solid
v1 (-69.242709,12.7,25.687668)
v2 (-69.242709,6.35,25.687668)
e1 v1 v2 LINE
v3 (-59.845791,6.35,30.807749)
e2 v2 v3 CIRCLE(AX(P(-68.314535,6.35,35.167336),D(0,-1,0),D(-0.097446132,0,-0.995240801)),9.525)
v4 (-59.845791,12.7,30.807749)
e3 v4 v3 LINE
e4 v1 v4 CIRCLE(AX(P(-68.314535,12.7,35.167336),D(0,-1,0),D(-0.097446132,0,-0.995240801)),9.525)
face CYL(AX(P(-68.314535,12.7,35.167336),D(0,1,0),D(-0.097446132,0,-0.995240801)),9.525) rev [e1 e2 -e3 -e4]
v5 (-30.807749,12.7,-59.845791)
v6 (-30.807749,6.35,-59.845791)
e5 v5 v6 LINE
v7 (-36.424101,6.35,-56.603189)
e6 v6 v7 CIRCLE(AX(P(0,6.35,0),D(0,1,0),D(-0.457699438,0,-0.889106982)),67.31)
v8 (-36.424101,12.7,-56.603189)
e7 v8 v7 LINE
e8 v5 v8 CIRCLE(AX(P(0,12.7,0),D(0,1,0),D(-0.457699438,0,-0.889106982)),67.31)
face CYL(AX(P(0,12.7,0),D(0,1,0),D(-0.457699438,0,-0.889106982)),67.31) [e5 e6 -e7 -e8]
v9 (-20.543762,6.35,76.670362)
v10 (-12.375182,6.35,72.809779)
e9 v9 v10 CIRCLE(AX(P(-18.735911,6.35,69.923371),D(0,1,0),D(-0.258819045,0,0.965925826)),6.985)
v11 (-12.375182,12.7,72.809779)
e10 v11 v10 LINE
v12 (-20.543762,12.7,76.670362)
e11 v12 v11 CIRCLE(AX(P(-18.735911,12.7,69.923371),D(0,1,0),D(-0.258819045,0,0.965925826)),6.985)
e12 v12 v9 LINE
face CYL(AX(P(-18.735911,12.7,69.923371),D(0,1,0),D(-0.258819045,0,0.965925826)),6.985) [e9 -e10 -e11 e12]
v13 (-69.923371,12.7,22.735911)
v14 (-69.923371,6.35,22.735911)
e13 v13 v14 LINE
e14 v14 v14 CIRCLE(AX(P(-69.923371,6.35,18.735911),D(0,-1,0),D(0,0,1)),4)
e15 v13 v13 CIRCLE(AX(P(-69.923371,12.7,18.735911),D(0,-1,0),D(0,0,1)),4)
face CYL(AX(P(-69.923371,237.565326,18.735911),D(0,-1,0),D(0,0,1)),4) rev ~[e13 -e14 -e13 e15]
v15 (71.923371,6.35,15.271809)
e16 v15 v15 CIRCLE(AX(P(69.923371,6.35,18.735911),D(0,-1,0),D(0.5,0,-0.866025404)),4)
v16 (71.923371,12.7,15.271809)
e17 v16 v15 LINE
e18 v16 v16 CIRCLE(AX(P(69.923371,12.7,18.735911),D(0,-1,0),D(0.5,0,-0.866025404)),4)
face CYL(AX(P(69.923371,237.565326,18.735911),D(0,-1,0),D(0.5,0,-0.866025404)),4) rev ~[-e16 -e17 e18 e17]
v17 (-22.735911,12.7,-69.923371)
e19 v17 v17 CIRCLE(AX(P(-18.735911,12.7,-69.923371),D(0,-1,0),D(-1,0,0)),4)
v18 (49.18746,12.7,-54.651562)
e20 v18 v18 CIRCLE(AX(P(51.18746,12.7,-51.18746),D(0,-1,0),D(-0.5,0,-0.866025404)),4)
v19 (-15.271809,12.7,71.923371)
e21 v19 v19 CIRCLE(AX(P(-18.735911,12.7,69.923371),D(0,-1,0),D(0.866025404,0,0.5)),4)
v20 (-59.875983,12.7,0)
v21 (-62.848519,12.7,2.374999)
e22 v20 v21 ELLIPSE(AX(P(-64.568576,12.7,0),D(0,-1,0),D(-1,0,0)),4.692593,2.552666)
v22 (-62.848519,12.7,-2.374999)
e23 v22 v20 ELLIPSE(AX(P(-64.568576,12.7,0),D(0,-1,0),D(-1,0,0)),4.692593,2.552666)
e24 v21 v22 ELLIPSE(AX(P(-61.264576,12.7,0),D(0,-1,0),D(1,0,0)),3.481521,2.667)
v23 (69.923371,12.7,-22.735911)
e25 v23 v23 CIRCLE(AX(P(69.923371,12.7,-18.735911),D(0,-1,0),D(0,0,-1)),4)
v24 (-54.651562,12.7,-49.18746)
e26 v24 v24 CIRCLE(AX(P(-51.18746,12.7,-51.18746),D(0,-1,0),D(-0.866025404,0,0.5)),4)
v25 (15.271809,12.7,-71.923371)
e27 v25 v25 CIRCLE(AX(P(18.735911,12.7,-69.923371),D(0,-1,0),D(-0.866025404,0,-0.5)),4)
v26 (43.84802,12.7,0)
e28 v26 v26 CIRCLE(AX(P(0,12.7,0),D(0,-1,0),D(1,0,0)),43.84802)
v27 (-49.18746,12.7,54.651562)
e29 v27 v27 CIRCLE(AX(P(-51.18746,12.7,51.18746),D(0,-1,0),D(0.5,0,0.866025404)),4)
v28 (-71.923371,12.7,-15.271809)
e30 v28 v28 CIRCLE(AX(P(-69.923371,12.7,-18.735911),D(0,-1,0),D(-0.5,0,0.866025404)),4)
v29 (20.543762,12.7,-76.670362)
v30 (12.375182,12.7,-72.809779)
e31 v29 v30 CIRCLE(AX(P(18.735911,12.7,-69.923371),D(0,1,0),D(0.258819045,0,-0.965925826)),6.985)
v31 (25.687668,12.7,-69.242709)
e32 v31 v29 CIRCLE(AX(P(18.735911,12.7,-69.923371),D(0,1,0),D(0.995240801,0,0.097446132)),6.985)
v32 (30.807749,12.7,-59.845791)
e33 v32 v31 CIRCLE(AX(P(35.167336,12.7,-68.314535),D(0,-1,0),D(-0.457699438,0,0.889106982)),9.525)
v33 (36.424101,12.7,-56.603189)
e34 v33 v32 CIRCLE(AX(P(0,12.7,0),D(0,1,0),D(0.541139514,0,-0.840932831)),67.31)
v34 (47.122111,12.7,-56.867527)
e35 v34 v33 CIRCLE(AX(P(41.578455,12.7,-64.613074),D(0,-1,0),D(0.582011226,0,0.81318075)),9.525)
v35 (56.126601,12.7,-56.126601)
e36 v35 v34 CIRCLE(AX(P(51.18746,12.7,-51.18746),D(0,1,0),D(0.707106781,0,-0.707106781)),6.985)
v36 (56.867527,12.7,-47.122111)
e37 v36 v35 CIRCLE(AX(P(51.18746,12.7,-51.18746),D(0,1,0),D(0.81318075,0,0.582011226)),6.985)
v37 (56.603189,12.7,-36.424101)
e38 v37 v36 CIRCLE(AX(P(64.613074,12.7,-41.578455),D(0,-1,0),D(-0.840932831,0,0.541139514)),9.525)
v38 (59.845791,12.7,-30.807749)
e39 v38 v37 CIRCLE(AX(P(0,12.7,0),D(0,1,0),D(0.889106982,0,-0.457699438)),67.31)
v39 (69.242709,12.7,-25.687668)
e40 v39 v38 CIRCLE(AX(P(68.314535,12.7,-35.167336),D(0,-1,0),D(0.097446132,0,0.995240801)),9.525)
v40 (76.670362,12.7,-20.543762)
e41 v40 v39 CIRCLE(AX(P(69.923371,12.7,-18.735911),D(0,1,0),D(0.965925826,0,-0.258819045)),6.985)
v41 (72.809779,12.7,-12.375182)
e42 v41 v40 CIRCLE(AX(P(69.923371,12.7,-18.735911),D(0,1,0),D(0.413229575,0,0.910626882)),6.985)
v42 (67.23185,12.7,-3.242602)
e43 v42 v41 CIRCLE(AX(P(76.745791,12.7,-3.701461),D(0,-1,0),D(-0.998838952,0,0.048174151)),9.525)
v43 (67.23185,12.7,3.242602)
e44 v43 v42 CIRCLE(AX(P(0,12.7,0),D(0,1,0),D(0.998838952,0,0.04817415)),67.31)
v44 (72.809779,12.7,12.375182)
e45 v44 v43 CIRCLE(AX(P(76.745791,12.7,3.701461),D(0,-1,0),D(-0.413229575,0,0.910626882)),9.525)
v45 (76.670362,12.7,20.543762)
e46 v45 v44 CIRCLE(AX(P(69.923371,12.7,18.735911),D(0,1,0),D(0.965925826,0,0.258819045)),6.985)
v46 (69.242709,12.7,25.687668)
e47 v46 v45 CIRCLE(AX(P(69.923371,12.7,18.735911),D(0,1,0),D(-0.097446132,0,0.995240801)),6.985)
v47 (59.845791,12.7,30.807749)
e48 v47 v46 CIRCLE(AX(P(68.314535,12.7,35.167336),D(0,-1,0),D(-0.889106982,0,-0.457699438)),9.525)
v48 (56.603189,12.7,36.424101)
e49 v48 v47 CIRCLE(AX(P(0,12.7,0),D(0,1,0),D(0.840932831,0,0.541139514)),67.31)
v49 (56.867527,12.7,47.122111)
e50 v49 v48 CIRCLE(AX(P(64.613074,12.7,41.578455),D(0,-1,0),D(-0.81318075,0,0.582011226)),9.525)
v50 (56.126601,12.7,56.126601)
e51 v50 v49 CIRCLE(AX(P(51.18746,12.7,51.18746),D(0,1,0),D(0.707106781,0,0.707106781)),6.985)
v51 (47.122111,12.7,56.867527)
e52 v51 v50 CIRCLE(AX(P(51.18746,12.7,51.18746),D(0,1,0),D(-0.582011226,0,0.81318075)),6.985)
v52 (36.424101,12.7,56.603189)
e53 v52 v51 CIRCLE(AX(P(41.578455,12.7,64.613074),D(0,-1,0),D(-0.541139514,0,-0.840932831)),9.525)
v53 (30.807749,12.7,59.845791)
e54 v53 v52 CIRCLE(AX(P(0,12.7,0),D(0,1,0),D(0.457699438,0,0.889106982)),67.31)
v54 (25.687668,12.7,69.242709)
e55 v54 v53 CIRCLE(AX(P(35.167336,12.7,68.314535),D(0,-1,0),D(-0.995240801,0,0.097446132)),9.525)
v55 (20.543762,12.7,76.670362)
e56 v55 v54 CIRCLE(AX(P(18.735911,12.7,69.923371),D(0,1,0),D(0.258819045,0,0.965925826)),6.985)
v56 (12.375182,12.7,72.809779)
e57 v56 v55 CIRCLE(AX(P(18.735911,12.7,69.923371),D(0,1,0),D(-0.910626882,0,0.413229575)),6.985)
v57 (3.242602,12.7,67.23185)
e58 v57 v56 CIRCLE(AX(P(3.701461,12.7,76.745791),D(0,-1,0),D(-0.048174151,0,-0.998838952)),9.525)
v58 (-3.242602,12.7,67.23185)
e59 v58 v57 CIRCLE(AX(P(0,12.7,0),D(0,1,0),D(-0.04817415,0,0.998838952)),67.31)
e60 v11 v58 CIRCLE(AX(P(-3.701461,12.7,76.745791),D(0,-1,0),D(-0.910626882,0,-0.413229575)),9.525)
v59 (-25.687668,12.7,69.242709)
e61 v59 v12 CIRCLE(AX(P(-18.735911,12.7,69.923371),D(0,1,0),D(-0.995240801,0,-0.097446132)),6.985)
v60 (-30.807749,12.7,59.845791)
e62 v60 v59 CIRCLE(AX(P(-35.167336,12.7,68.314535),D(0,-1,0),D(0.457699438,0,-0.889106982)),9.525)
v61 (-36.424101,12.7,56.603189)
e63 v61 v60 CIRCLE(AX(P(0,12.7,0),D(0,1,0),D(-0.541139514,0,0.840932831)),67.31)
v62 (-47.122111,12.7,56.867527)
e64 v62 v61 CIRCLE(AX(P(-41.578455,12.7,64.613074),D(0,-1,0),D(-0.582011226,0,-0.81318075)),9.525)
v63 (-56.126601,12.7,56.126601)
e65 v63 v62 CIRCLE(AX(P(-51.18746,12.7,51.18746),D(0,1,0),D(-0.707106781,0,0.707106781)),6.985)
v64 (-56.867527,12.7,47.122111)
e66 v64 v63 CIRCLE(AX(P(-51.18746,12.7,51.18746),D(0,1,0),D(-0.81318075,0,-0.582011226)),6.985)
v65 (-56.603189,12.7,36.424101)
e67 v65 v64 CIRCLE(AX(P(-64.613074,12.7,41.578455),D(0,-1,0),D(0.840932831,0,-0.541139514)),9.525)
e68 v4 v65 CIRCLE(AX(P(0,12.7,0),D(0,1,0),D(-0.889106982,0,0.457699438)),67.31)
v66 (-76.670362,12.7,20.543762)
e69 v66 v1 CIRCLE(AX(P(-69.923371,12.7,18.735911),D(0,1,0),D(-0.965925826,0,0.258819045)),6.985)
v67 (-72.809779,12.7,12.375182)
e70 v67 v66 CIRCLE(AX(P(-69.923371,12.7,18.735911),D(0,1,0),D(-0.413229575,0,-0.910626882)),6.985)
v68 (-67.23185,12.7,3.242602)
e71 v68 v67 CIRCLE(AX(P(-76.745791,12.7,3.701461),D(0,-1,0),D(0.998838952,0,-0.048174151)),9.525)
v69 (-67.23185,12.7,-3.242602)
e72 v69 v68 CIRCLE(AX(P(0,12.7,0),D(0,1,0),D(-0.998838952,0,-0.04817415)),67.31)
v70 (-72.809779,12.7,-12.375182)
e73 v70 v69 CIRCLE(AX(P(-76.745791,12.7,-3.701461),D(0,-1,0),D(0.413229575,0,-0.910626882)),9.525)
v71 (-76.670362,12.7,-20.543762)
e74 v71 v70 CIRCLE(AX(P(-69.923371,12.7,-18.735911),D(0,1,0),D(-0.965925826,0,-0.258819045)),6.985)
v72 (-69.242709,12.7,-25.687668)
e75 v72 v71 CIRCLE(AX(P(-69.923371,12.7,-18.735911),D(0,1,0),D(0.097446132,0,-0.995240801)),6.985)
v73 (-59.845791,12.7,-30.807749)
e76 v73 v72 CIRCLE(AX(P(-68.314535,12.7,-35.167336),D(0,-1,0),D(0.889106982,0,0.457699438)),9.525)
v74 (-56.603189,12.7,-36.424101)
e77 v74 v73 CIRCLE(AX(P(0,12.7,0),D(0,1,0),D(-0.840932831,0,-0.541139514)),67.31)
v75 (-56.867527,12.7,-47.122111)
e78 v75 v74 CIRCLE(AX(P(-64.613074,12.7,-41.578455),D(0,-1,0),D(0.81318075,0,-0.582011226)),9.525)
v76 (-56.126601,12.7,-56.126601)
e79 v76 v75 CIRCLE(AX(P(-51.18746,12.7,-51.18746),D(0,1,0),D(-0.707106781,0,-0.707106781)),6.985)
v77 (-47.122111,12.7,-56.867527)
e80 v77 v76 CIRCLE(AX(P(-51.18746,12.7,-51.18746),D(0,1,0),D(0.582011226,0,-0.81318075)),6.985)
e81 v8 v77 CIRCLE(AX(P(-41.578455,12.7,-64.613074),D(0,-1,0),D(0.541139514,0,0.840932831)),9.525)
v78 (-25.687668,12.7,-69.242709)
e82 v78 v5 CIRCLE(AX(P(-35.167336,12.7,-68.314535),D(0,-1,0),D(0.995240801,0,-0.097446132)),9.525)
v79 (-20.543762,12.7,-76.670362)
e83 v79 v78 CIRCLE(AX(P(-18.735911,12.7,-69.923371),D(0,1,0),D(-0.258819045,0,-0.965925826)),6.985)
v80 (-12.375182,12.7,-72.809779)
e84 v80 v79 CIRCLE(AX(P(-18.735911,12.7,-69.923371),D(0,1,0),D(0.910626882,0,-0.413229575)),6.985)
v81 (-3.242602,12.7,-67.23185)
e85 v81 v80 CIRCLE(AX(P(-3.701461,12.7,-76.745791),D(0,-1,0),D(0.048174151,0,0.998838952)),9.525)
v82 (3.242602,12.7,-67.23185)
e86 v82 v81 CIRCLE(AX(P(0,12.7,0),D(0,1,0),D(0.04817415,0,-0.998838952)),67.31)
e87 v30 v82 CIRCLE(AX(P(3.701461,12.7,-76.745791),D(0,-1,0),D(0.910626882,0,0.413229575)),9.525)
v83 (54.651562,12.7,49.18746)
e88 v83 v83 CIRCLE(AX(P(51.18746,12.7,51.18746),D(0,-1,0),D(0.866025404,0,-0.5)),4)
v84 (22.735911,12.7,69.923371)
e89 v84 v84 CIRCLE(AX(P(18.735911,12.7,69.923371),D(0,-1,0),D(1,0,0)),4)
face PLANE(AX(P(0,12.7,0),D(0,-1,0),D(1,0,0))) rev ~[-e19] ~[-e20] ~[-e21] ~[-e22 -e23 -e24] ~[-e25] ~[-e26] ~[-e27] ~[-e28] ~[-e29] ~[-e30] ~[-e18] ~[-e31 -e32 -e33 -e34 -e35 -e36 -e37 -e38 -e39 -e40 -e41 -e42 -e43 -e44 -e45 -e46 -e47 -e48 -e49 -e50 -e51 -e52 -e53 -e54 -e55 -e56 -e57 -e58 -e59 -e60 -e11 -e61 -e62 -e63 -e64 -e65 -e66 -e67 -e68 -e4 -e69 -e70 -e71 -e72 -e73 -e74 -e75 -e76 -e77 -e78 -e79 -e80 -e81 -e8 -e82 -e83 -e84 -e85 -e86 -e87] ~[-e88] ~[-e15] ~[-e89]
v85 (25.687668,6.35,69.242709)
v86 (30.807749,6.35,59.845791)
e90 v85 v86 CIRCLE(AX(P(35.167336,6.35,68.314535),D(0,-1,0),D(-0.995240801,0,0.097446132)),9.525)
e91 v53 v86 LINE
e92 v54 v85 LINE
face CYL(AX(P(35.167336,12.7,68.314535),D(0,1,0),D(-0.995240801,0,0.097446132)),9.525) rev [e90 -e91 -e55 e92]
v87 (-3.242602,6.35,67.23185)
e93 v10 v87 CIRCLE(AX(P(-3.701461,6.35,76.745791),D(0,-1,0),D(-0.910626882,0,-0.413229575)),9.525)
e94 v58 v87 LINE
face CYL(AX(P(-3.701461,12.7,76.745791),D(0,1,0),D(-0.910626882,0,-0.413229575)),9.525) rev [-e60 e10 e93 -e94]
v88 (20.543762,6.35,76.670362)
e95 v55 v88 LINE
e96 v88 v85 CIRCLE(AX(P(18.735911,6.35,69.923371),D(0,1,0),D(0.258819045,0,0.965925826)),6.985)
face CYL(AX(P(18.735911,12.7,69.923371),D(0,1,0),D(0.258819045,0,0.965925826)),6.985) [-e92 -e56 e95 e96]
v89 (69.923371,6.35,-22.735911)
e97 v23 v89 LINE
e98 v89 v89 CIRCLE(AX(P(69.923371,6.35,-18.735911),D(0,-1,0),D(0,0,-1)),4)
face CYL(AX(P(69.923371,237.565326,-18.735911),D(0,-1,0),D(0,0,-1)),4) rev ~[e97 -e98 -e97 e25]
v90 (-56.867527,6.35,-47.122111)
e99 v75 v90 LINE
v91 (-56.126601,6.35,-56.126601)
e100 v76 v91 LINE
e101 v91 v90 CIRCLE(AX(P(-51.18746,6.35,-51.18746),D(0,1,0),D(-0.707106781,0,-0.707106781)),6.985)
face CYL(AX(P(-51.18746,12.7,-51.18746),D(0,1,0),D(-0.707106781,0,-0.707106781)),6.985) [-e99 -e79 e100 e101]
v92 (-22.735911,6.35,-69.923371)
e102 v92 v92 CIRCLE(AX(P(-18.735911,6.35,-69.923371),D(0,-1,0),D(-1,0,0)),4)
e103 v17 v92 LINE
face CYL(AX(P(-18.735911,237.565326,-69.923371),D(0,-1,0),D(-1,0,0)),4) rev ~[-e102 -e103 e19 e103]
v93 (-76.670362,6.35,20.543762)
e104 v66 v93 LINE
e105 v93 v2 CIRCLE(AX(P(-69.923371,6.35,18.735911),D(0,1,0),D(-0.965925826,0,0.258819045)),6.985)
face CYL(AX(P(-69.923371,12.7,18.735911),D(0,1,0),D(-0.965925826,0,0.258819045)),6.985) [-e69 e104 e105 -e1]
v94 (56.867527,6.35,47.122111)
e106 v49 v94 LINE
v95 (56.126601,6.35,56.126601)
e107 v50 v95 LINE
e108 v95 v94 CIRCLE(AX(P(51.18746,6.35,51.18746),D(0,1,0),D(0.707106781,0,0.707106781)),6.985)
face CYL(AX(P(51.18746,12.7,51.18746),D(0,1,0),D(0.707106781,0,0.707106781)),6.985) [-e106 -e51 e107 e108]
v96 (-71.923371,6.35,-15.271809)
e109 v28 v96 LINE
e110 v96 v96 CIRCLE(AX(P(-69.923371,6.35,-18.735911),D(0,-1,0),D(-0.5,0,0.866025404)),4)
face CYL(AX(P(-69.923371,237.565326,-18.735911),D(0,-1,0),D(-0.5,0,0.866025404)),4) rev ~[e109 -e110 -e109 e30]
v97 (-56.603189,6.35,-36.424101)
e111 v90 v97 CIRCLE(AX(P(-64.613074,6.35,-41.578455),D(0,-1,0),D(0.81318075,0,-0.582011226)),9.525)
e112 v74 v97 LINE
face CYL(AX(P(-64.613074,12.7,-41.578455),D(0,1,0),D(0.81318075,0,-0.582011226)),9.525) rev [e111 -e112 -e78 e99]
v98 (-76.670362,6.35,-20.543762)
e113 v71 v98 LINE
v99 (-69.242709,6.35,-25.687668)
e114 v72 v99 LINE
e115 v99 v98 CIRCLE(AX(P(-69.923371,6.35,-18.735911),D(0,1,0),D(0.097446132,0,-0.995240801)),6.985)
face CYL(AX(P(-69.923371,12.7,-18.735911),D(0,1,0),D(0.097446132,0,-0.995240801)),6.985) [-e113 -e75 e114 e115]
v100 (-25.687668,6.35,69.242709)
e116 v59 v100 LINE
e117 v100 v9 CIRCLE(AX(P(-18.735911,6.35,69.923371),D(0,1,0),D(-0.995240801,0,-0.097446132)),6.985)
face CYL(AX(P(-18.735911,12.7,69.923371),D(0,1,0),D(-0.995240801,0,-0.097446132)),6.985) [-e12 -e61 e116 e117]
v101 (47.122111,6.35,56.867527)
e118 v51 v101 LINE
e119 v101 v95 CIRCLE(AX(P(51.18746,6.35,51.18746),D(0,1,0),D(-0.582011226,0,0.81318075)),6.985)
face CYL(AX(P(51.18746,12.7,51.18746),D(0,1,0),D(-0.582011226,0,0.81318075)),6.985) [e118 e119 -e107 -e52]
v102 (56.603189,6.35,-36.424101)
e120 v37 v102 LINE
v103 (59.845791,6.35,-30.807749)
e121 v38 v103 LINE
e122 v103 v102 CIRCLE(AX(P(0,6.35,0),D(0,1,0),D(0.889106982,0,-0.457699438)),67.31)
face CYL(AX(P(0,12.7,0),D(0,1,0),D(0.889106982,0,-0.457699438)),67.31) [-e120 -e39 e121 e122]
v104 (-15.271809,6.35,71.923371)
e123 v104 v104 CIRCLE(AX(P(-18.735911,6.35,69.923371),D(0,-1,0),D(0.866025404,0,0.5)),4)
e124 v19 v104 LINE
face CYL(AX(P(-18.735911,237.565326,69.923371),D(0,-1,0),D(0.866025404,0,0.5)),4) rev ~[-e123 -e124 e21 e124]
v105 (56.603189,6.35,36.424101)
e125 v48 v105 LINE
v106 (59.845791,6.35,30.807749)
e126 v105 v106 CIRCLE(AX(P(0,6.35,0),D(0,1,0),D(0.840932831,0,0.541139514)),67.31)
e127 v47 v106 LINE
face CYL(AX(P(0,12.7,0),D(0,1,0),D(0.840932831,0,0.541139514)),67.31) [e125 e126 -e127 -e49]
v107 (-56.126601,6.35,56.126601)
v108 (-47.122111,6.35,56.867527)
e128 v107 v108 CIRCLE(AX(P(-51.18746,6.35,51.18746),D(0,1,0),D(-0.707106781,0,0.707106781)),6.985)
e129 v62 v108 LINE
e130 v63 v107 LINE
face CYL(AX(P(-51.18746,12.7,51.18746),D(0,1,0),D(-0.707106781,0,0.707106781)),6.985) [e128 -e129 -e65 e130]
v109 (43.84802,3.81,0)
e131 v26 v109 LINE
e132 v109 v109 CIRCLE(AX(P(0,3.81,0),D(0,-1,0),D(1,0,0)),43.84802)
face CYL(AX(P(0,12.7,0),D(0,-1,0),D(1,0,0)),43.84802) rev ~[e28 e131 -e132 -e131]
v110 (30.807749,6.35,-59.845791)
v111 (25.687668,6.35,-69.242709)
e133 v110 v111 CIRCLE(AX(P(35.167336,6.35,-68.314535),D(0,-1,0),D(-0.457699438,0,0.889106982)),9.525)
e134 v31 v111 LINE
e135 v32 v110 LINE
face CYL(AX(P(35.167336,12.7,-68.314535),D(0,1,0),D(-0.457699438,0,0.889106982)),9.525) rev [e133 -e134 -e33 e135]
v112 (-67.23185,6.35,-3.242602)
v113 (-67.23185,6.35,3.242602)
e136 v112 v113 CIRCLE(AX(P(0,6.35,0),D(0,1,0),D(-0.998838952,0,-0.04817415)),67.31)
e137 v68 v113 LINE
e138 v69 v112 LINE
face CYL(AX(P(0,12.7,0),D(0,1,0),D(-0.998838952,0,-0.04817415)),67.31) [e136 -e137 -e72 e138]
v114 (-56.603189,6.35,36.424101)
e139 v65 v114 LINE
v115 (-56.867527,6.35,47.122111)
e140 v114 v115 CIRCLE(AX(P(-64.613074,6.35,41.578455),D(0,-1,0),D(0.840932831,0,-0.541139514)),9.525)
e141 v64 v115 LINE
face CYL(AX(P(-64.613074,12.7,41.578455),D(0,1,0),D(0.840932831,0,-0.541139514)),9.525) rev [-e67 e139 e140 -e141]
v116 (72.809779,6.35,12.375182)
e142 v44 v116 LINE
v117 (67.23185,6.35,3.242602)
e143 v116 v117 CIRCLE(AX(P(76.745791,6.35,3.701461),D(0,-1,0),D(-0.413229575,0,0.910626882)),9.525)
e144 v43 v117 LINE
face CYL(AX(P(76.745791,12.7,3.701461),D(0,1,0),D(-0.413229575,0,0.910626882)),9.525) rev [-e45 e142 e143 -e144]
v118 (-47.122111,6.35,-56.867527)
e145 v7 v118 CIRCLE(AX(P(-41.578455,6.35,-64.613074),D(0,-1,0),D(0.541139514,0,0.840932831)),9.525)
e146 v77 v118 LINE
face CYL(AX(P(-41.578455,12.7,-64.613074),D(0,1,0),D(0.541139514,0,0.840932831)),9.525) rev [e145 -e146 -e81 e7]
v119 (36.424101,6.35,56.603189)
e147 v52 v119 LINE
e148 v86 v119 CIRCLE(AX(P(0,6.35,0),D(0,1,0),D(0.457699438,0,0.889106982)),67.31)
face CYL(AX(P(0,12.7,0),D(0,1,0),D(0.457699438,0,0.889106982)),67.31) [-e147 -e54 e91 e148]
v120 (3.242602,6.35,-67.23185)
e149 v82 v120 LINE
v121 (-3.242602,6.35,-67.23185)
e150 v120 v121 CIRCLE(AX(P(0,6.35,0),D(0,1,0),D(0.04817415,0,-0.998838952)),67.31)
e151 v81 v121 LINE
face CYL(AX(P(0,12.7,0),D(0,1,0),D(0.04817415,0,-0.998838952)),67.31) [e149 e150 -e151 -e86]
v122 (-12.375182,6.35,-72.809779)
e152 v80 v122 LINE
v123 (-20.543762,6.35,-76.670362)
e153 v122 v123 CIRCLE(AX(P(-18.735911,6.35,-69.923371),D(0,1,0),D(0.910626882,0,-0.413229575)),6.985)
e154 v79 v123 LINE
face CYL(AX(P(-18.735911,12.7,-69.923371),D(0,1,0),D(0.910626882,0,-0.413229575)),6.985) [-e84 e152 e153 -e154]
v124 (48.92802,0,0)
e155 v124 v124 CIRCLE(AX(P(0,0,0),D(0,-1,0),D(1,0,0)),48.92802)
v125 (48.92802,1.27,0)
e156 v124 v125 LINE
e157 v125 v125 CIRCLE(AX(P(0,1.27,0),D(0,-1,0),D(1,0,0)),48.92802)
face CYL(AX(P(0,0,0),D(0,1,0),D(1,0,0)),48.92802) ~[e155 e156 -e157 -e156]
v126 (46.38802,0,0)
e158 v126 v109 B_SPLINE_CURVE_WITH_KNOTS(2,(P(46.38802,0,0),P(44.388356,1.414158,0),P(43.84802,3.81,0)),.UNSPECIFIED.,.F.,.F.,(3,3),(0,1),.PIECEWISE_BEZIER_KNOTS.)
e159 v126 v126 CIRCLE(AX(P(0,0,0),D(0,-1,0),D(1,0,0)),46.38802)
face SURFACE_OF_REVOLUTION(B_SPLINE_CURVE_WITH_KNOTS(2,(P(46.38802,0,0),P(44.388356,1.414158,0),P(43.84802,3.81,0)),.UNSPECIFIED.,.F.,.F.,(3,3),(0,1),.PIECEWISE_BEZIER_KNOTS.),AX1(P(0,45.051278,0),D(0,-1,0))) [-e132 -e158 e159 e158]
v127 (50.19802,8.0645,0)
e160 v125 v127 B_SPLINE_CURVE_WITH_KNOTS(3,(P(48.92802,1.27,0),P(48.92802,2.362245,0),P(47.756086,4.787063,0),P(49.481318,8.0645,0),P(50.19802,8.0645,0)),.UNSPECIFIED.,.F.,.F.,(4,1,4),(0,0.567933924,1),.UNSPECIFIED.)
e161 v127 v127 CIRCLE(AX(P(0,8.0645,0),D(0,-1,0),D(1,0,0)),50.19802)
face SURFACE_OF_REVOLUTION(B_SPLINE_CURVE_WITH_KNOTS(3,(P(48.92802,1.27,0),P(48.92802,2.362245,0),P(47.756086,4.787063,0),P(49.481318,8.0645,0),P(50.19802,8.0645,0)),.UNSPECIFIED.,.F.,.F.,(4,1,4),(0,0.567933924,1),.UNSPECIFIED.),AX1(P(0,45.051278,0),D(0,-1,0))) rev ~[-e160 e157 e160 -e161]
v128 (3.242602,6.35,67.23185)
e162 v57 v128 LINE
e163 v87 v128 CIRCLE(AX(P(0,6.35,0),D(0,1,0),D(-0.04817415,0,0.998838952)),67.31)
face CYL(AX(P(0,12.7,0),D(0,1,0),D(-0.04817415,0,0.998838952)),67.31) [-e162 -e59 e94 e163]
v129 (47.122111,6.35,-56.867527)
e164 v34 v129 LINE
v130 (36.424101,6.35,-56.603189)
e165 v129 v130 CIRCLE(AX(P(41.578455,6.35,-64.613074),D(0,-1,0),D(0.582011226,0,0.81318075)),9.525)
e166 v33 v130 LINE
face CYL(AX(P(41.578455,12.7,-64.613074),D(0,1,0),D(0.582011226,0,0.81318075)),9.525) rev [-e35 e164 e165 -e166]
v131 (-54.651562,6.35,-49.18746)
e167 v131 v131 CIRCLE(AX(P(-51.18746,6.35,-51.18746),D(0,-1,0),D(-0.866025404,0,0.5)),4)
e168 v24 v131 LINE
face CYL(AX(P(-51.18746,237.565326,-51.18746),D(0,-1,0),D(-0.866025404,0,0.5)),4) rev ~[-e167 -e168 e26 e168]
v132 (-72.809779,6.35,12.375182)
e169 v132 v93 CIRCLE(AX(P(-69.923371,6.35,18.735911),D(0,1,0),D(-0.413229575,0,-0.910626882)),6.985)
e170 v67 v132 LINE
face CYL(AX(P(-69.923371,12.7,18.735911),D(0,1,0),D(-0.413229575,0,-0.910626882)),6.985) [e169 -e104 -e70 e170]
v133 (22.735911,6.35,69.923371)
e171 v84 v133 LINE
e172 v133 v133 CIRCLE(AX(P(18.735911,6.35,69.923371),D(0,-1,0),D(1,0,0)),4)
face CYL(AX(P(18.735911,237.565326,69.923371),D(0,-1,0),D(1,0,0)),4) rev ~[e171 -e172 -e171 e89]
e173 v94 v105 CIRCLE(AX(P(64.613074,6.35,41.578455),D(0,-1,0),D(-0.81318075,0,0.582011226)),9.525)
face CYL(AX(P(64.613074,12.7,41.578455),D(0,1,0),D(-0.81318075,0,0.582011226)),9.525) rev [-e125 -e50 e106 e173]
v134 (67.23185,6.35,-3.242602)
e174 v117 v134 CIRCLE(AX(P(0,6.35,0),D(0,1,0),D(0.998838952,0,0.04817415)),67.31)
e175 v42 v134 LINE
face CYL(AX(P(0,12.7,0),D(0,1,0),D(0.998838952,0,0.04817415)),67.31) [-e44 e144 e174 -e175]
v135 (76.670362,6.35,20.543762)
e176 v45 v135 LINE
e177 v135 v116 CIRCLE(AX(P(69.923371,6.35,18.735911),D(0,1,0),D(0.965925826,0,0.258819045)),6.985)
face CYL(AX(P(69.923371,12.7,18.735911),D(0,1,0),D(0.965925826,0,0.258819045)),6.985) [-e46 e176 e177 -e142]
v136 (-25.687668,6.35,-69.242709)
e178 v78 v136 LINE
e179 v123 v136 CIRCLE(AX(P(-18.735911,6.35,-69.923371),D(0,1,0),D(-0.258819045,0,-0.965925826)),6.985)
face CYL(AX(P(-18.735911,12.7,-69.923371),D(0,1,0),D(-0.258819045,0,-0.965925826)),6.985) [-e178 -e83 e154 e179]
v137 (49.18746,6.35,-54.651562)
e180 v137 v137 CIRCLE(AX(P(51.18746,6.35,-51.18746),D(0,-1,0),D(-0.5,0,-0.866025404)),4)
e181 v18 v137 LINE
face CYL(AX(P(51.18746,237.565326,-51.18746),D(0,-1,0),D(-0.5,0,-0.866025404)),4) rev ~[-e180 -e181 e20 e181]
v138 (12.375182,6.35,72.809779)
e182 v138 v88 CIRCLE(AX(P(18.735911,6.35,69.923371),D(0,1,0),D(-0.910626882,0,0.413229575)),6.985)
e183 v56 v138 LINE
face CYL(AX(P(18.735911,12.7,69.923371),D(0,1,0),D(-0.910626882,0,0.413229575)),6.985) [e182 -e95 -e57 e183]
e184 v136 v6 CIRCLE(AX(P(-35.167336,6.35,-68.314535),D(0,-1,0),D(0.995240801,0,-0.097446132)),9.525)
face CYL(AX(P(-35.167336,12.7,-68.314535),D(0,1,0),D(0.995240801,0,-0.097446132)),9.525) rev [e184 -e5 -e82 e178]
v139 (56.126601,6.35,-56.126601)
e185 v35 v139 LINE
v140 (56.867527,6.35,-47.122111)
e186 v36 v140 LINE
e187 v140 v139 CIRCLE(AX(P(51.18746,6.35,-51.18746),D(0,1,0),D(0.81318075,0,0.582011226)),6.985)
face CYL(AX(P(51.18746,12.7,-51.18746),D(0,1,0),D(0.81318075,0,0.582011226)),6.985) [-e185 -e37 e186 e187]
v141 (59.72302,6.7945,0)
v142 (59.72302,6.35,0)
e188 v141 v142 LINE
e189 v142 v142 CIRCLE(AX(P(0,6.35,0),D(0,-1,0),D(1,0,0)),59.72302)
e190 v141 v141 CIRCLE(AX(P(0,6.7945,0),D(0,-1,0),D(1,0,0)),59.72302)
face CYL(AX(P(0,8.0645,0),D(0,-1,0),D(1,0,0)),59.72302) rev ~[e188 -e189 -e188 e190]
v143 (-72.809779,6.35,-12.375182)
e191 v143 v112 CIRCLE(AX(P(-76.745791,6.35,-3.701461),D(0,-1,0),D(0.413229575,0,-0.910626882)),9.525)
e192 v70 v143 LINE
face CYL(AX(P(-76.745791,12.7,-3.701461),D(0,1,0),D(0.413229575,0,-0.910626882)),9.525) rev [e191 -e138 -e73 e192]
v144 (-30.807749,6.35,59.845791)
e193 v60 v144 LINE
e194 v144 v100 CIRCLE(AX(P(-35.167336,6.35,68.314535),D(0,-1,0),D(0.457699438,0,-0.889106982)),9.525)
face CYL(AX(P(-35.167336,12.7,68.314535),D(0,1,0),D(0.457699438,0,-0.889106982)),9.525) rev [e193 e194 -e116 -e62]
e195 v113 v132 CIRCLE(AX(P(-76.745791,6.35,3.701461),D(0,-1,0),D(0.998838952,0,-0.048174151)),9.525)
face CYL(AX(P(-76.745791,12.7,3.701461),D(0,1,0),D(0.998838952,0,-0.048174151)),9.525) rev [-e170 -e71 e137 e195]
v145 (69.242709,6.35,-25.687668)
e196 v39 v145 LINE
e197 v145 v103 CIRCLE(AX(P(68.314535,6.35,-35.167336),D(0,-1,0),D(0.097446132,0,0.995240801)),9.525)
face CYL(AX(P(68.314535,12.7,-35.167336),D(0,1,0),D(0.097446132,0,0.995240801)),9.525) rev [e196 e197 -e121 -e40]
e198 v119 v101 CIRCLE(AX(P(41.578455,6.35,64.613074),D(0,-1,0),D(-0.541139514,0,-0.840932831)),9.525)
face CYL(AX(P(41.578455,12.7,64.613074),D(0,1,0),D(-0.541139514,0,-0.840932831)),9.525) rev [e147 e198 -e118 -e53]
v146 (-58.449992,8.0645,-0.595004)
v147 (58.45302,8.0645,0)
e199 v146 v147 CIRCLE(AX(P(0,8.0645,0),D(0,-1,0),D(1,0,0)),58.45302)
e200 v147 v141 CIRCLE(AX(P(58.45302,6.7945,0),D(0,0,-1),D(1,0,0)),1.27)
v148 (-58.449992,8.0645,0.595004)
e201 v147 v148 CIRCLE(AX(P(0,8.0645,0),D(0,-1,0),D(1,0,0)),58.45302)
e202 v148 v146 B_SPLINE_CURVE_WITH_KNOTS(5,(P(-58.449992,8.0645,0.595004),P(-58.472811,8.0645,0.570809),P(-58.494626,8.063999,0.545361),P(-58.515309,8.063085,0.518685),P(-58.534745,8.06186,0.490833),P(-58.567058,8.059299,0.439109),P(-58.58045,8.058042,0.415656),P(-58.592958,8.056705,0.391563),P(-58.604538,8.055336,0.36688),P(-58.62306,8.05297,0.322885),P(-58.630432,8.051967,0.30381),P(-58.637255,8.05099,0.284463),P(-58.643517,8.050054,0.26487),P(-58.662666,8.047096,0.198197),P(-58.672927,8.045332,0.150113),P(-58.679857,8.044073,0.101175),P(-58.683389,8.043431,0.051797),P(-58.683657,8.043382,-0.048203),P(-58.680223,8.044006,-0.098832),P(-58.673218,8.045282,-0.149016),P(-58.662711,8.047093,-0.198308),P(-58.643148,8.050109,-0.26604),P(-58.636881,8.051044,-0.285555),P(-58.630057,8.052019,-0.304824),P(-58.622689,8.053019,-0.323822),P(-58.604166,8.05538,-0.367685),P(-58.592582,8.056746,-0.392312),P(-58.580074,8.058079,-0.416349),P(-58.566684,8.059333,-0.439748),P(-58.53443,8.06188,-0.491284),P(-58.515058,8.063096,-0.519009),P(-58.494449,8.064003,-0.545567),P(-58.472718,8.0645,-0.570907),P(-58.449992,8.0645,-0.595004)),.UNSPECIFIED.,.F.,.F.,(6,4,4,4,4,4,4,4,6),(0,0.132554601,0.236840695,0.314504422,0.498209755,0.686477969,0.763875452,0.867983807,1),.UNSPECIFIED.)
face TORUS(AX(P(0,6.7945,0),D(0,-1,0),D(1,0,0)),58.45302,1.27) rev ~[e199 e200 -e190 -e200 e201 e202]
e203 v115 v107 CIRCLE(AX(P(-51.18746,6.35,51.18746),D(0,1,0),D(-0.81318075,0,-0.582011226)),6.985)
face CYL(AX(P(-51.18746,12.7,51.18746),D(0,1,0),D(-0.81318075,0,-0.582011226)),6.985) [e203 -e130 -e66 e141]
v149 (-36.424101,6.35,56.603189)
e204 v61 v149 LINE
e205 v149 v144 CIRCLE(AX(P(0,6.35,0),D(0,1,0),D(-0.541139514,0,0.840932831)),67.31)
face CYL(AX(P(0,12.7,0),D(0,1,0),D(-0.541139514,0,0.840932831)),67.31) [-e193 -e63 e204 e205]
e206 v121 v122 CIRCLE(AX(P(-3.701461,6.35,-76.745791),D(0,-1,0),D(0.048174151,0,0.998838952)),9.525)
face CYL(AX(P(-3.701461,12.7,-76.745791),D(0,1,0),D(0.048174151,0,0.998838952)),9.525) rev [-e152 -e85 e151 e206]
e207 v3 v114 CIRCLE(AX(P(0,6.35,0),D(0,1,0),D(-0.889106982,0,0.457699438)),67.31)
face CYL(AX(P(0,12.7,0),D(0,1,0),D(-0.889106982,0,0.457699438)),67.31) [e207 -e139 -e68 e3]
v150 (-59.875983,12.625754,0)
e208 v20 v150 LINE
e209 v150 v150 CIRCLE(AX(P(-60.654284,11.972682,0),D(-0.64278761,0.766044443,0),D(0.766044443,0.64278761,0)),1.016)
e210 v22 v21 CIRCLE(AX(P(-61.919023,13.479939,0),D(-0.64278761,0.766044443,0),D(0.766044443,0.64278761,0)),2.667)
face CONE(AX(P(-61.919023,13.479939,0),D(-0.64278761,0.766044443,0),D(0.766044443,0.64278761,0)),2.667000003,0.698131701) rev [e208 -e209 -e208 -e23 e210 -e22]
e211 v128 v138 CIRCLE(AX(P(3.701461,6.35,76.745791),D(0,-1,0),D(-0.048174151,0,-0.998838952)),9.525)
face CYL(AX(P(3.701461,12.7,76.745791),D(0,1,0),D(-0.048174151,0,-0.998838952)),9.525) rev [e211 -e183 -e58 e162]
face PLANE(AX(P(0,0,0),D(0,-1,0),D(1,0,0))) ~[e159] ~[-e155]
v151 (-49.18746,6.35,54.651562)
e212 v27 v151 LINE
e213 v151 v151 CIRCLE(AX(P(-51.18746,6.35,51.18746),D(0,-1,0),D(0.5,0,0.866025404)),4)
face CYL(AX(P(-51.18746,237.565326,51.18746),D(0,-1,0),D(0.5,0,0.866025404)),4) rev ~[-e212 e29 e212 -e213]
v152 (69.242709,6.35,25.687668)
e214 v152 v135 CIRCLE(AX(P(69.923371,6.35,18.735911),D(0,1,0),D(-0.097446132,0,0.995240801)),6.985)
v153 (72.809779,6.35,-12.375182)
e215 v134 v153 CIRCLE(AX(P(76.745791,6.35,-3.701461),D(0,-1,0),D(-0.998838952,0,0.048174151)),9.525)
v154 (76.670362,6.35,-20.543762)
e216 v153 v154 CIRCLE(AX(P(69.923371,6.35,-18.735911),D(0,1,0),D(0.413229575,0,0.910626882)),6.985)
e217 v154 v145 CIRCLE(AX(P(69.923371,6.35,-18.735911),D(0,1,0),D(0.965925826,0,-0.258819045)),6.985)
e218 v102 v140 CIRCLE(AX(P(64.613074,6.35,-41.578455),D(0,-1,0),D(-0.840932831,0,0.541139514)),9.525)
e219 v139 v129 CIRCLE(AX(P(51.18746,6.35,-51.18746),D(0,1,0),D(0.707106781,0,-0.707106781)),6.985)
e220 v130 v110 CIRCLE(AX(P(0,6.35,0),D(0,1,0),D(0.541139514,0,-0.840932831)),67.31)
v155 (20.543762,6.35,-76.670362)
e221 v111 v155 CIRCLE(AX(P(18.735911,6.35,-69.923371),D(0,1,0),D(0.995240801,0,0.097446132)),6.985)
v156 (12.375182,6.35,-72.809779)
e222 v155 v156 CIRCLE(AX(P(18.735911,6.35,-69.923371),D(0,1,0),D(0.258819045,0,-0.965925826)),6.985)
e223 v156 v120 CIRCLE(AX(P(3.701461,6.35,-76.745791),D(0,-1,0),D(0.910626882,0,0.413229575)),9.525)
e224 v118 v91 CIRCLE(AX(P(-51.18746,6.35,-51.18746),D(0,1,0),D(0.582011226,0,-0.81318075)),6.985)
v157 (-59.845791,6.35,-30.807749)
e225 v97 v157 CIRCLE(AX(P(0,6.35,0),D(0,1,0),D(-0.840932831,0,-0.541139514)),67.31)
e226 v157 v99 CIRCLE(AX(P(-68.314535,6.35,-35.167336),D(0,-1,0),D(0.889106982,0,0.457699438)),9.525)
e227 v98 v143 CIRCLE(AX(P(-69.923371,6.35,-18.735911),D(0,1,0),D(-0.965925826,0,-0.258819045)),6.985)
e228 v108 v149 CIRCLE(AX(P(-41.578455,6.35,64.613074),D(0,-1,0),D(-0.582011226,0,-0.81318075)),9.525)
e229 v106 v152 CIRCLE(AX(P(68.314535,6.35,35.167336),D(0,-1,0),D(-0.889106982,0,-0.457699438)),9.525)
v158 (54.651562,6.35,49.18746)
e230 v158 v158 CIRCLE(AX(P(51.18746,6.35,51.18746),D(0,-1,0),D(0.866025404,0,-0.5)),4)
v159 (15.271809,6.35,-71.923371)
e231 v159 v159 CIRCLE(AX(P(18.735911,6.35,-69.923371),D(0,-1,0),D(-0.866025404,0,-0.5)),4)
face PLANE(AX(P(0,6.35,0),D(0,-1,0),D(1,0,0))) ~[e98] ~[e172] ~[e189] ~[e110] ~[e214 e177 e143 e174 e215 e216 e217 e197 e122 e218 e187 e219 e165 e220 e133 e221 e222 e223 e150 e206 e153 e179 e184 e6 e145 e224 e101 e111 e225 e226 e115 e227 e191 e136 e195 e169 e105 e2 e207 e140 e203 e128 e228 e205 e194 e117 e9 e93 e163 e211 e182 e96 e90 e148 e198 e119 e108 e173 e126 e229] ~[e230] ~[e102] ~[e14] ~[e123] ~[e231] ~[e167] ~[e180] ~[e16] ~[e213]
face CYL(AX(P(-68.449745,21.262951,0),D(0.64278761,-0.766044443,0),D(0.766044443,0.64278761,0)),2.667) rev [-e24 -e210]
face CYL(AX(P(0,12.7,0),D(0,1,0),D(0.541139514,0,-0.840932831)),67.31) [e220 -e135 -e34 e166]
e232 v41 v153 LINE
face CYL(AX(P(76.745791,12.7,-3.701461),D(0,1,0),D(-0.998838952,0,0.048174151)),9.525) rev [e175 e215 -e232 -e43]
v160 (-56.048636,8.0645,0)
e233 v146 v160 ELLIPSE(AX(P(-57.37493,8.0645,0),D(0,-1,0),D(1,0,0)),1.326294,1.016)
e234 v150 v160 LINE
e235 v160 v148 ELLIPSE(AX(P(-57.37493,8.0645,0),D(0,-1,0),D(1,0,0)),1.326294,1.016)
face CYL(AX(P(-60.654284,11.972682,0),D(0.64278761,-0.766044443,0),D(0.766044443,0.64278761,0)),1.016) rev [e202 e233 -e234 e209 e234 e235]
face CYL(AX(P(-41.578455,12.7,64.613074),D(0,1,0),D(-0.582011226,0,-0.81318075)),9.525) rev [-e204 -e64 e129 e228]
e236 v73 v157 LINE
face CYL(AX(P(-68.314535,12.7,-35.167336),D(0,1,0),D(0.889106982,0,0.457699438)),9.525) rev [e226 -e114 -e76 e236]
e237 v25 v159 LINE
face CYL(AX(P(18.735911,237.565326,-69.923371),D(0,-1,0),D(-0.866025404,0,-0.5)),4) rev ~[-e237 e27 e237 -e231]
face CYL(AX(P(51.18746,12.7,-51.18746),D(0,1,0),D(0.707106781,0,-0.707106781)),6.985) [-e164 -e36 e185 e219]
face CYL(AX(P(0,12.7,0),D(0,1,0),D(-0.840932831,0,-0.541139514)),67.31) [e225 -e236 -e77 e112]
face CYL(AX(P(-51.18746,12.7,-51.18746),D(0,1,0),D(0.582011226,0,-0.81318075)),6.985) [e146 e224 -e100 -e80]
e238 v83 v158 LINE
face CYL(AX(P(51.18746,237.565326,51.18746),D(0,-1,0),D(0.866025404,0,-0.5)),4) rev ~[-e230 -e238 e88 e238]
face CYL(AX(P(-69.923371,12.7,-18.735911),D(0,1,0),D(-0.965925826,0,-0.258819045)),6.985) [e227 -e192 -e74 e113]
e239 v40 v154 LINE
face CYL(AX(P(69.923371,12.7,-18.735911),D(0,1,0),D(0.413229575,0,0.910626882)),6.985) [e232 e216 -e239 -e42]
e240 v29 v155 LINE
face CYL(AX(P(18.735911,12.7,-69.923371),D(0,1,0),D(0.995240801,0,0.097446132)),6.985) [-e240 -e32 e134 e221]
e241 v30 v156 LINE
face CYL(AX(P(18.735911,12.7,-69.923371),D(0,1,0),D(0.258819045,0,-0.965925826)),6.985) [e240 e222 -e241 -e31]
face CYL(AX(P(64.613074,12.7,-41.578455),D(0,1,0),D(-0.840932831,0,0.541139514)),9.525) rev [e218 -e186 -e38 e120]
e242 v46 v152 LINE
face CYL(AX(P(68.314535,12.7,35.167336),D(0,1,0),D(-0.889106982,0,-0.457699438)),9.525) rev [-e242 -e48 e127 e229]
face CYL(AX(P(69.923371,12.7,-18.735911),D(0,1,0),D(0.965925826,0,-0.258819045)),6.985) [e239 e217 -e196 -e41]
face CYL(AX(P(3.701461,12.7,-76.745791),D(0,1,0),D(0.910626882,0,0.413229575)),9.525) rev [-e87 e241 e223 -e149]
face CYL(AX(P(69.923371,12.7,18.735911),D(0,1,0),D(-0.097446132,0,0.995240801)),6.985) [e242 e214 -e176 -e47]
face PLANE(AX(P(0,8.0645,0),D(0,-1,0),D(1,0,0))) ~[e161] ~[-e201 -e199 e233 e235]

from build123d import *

# Parameters (mm, degrees)
FILLET1_R          = 1.27
HOLE2_D            = 8
CIRPATTERN2_COUNT  = 12
CUT_EXTRUDE1_DEPTH = 6.35
CIRPATTERN3_COUNT  = 12


with BuildPart() as part:
    # Sketch2 → Revolve1 (revolve)
    with BuildSketch(Plane.XY):
        with BuildLine():
            Line((43.84802, 12.7), (43.84802, 3.81))
            add(Edge.make_bspline(
                [(46.38802, 0), (44.388355655, 1.414157741), (43.84802, 3.81)],
                knots=[0, 0, 0, 1, 1, 1], degree=2))
            Line((46.38802, 0), (48.92802, 0))
            Line((48.92802, 0), (48.92802, 1.27))
            add(Edge.make_bspline(
                [(48.92802, 1.27), (48.92802, 2.362244726), (47.756086238, 4.78706255), (49.481317908, 8.0645), (50.19802, 8.0645)],
                knots=[0, 0, 0, 0, 0.567933924, 1, 1, 1, 1], degree=3))
            Line((50.19802, 8.0645), (59.72302, 8.0645))
            Line((59.72302, 8.0645), (59.72302, 6.35))
            Line((59.72302, 6.35), (79.375, 6.35))
            Line((79.375, 6.35), (79.375, 12.7))
            Line((79.375, 12.7), (43.84802, 12.7))
        make_face()
    revolve(axis=Axis((0, 45.051278076, 0), (0, -1, 0)))

    # Fillet1
    fillet1_edges = [part.edges().sort_by_distance(p)[0] for p in [
        (-59.72302, 8.0645, 0),
    ]]
    fillet(fillet1_edges, radius=FILLET1_R)

    # Sketch5 → Cut-Revolve2 (revolve, cut)
    with BuildSketch(Plane.XY):
        Polygon((-54.61, 6.35), (-55.388301154, 5.696927789), (-68.449745383, 21.262950873), (-66.406704853, 22.977265428), (-59.875982739, 15.194253886), (-59.875982739, 12.625753848), align=None)
    revolve(axis=Axis((-55.388301154, 5.696927789, 0), (-0.64278761, 0.766044443, 0)), mode=Mode.SUBTRACT)

    # Hole2 (through all)
    with Locations(Plane(origin=(0, 12.7, 0), x_dir=(1, 0, 0), z_dir=(0, 1, 0))):
        with Locations((-18.735910675, 69.923370565)):
            hole2 = Hole(HOLE2_D / 2)

    # CirPattern2: Hole2 ×12 about axis
    cirpattern2_axis = Axis((0, 0, 0), (0, 1, 0))
    for i in range(1, CIRPATTERN2_COUNT):
        add(hole2.rotate(cirpattern2_axis, i * 360 / CIRPATTERN2_COUNT), mode=Mode.SUBTRACT)

    # Sketch22 → Cut-Extrude1 (cut)
    with BuildSketch(Plane(origin=(0, 12.7, 0), x_dir=(1, 0, 0), z_dir=(0, 1, 0))):
        with BuildLine():
            ThreePointArc((76.670362462, -20.543761705), (76.23859227, -15.751249921), (72.809779145, -12.375181903))
            ThreePointArc((72.809779145, -12.375181903), (68.617057204, -8.666268439), (67.231849832, -3.242602068))
            ThreePointArc((67.231849832, -3.242602068), (67.31, 0), (67.231849832, 3.242602068))
            ThreePointArc((67.231849832, 3.242602068), (68.617057204, 8.666268439), (72.809779145, 12.375181903))
            ThreePointArc((72.809779145, 12.375181903), (76.23859227, 15.751249921), (76.670362462, 20.543761705))
            ThreePointArc((76.670362462, 20.543761705), (79.375, 0), (76.670362462, -20.543761705))
        make_face()
    cut_extrude1 = extrude(amount=-CUT_EXTRUDE1_DEPTH, mode=Mode.SUBTRACT)

    # CirPattern3: Cut-Extrude1 ×12 about axis
    cirpattern3_axis = Axis((0, 0, 0), (0, 1, 0))
    for i in range(1, CIRPATTERN3_COUNT):
        add(cut_extrude1.rotate(cirpattern3_axis, i * 360 / CIRPATTERN3_COUNT), mode=Mode.SUBTRACT)


solid = part.part
